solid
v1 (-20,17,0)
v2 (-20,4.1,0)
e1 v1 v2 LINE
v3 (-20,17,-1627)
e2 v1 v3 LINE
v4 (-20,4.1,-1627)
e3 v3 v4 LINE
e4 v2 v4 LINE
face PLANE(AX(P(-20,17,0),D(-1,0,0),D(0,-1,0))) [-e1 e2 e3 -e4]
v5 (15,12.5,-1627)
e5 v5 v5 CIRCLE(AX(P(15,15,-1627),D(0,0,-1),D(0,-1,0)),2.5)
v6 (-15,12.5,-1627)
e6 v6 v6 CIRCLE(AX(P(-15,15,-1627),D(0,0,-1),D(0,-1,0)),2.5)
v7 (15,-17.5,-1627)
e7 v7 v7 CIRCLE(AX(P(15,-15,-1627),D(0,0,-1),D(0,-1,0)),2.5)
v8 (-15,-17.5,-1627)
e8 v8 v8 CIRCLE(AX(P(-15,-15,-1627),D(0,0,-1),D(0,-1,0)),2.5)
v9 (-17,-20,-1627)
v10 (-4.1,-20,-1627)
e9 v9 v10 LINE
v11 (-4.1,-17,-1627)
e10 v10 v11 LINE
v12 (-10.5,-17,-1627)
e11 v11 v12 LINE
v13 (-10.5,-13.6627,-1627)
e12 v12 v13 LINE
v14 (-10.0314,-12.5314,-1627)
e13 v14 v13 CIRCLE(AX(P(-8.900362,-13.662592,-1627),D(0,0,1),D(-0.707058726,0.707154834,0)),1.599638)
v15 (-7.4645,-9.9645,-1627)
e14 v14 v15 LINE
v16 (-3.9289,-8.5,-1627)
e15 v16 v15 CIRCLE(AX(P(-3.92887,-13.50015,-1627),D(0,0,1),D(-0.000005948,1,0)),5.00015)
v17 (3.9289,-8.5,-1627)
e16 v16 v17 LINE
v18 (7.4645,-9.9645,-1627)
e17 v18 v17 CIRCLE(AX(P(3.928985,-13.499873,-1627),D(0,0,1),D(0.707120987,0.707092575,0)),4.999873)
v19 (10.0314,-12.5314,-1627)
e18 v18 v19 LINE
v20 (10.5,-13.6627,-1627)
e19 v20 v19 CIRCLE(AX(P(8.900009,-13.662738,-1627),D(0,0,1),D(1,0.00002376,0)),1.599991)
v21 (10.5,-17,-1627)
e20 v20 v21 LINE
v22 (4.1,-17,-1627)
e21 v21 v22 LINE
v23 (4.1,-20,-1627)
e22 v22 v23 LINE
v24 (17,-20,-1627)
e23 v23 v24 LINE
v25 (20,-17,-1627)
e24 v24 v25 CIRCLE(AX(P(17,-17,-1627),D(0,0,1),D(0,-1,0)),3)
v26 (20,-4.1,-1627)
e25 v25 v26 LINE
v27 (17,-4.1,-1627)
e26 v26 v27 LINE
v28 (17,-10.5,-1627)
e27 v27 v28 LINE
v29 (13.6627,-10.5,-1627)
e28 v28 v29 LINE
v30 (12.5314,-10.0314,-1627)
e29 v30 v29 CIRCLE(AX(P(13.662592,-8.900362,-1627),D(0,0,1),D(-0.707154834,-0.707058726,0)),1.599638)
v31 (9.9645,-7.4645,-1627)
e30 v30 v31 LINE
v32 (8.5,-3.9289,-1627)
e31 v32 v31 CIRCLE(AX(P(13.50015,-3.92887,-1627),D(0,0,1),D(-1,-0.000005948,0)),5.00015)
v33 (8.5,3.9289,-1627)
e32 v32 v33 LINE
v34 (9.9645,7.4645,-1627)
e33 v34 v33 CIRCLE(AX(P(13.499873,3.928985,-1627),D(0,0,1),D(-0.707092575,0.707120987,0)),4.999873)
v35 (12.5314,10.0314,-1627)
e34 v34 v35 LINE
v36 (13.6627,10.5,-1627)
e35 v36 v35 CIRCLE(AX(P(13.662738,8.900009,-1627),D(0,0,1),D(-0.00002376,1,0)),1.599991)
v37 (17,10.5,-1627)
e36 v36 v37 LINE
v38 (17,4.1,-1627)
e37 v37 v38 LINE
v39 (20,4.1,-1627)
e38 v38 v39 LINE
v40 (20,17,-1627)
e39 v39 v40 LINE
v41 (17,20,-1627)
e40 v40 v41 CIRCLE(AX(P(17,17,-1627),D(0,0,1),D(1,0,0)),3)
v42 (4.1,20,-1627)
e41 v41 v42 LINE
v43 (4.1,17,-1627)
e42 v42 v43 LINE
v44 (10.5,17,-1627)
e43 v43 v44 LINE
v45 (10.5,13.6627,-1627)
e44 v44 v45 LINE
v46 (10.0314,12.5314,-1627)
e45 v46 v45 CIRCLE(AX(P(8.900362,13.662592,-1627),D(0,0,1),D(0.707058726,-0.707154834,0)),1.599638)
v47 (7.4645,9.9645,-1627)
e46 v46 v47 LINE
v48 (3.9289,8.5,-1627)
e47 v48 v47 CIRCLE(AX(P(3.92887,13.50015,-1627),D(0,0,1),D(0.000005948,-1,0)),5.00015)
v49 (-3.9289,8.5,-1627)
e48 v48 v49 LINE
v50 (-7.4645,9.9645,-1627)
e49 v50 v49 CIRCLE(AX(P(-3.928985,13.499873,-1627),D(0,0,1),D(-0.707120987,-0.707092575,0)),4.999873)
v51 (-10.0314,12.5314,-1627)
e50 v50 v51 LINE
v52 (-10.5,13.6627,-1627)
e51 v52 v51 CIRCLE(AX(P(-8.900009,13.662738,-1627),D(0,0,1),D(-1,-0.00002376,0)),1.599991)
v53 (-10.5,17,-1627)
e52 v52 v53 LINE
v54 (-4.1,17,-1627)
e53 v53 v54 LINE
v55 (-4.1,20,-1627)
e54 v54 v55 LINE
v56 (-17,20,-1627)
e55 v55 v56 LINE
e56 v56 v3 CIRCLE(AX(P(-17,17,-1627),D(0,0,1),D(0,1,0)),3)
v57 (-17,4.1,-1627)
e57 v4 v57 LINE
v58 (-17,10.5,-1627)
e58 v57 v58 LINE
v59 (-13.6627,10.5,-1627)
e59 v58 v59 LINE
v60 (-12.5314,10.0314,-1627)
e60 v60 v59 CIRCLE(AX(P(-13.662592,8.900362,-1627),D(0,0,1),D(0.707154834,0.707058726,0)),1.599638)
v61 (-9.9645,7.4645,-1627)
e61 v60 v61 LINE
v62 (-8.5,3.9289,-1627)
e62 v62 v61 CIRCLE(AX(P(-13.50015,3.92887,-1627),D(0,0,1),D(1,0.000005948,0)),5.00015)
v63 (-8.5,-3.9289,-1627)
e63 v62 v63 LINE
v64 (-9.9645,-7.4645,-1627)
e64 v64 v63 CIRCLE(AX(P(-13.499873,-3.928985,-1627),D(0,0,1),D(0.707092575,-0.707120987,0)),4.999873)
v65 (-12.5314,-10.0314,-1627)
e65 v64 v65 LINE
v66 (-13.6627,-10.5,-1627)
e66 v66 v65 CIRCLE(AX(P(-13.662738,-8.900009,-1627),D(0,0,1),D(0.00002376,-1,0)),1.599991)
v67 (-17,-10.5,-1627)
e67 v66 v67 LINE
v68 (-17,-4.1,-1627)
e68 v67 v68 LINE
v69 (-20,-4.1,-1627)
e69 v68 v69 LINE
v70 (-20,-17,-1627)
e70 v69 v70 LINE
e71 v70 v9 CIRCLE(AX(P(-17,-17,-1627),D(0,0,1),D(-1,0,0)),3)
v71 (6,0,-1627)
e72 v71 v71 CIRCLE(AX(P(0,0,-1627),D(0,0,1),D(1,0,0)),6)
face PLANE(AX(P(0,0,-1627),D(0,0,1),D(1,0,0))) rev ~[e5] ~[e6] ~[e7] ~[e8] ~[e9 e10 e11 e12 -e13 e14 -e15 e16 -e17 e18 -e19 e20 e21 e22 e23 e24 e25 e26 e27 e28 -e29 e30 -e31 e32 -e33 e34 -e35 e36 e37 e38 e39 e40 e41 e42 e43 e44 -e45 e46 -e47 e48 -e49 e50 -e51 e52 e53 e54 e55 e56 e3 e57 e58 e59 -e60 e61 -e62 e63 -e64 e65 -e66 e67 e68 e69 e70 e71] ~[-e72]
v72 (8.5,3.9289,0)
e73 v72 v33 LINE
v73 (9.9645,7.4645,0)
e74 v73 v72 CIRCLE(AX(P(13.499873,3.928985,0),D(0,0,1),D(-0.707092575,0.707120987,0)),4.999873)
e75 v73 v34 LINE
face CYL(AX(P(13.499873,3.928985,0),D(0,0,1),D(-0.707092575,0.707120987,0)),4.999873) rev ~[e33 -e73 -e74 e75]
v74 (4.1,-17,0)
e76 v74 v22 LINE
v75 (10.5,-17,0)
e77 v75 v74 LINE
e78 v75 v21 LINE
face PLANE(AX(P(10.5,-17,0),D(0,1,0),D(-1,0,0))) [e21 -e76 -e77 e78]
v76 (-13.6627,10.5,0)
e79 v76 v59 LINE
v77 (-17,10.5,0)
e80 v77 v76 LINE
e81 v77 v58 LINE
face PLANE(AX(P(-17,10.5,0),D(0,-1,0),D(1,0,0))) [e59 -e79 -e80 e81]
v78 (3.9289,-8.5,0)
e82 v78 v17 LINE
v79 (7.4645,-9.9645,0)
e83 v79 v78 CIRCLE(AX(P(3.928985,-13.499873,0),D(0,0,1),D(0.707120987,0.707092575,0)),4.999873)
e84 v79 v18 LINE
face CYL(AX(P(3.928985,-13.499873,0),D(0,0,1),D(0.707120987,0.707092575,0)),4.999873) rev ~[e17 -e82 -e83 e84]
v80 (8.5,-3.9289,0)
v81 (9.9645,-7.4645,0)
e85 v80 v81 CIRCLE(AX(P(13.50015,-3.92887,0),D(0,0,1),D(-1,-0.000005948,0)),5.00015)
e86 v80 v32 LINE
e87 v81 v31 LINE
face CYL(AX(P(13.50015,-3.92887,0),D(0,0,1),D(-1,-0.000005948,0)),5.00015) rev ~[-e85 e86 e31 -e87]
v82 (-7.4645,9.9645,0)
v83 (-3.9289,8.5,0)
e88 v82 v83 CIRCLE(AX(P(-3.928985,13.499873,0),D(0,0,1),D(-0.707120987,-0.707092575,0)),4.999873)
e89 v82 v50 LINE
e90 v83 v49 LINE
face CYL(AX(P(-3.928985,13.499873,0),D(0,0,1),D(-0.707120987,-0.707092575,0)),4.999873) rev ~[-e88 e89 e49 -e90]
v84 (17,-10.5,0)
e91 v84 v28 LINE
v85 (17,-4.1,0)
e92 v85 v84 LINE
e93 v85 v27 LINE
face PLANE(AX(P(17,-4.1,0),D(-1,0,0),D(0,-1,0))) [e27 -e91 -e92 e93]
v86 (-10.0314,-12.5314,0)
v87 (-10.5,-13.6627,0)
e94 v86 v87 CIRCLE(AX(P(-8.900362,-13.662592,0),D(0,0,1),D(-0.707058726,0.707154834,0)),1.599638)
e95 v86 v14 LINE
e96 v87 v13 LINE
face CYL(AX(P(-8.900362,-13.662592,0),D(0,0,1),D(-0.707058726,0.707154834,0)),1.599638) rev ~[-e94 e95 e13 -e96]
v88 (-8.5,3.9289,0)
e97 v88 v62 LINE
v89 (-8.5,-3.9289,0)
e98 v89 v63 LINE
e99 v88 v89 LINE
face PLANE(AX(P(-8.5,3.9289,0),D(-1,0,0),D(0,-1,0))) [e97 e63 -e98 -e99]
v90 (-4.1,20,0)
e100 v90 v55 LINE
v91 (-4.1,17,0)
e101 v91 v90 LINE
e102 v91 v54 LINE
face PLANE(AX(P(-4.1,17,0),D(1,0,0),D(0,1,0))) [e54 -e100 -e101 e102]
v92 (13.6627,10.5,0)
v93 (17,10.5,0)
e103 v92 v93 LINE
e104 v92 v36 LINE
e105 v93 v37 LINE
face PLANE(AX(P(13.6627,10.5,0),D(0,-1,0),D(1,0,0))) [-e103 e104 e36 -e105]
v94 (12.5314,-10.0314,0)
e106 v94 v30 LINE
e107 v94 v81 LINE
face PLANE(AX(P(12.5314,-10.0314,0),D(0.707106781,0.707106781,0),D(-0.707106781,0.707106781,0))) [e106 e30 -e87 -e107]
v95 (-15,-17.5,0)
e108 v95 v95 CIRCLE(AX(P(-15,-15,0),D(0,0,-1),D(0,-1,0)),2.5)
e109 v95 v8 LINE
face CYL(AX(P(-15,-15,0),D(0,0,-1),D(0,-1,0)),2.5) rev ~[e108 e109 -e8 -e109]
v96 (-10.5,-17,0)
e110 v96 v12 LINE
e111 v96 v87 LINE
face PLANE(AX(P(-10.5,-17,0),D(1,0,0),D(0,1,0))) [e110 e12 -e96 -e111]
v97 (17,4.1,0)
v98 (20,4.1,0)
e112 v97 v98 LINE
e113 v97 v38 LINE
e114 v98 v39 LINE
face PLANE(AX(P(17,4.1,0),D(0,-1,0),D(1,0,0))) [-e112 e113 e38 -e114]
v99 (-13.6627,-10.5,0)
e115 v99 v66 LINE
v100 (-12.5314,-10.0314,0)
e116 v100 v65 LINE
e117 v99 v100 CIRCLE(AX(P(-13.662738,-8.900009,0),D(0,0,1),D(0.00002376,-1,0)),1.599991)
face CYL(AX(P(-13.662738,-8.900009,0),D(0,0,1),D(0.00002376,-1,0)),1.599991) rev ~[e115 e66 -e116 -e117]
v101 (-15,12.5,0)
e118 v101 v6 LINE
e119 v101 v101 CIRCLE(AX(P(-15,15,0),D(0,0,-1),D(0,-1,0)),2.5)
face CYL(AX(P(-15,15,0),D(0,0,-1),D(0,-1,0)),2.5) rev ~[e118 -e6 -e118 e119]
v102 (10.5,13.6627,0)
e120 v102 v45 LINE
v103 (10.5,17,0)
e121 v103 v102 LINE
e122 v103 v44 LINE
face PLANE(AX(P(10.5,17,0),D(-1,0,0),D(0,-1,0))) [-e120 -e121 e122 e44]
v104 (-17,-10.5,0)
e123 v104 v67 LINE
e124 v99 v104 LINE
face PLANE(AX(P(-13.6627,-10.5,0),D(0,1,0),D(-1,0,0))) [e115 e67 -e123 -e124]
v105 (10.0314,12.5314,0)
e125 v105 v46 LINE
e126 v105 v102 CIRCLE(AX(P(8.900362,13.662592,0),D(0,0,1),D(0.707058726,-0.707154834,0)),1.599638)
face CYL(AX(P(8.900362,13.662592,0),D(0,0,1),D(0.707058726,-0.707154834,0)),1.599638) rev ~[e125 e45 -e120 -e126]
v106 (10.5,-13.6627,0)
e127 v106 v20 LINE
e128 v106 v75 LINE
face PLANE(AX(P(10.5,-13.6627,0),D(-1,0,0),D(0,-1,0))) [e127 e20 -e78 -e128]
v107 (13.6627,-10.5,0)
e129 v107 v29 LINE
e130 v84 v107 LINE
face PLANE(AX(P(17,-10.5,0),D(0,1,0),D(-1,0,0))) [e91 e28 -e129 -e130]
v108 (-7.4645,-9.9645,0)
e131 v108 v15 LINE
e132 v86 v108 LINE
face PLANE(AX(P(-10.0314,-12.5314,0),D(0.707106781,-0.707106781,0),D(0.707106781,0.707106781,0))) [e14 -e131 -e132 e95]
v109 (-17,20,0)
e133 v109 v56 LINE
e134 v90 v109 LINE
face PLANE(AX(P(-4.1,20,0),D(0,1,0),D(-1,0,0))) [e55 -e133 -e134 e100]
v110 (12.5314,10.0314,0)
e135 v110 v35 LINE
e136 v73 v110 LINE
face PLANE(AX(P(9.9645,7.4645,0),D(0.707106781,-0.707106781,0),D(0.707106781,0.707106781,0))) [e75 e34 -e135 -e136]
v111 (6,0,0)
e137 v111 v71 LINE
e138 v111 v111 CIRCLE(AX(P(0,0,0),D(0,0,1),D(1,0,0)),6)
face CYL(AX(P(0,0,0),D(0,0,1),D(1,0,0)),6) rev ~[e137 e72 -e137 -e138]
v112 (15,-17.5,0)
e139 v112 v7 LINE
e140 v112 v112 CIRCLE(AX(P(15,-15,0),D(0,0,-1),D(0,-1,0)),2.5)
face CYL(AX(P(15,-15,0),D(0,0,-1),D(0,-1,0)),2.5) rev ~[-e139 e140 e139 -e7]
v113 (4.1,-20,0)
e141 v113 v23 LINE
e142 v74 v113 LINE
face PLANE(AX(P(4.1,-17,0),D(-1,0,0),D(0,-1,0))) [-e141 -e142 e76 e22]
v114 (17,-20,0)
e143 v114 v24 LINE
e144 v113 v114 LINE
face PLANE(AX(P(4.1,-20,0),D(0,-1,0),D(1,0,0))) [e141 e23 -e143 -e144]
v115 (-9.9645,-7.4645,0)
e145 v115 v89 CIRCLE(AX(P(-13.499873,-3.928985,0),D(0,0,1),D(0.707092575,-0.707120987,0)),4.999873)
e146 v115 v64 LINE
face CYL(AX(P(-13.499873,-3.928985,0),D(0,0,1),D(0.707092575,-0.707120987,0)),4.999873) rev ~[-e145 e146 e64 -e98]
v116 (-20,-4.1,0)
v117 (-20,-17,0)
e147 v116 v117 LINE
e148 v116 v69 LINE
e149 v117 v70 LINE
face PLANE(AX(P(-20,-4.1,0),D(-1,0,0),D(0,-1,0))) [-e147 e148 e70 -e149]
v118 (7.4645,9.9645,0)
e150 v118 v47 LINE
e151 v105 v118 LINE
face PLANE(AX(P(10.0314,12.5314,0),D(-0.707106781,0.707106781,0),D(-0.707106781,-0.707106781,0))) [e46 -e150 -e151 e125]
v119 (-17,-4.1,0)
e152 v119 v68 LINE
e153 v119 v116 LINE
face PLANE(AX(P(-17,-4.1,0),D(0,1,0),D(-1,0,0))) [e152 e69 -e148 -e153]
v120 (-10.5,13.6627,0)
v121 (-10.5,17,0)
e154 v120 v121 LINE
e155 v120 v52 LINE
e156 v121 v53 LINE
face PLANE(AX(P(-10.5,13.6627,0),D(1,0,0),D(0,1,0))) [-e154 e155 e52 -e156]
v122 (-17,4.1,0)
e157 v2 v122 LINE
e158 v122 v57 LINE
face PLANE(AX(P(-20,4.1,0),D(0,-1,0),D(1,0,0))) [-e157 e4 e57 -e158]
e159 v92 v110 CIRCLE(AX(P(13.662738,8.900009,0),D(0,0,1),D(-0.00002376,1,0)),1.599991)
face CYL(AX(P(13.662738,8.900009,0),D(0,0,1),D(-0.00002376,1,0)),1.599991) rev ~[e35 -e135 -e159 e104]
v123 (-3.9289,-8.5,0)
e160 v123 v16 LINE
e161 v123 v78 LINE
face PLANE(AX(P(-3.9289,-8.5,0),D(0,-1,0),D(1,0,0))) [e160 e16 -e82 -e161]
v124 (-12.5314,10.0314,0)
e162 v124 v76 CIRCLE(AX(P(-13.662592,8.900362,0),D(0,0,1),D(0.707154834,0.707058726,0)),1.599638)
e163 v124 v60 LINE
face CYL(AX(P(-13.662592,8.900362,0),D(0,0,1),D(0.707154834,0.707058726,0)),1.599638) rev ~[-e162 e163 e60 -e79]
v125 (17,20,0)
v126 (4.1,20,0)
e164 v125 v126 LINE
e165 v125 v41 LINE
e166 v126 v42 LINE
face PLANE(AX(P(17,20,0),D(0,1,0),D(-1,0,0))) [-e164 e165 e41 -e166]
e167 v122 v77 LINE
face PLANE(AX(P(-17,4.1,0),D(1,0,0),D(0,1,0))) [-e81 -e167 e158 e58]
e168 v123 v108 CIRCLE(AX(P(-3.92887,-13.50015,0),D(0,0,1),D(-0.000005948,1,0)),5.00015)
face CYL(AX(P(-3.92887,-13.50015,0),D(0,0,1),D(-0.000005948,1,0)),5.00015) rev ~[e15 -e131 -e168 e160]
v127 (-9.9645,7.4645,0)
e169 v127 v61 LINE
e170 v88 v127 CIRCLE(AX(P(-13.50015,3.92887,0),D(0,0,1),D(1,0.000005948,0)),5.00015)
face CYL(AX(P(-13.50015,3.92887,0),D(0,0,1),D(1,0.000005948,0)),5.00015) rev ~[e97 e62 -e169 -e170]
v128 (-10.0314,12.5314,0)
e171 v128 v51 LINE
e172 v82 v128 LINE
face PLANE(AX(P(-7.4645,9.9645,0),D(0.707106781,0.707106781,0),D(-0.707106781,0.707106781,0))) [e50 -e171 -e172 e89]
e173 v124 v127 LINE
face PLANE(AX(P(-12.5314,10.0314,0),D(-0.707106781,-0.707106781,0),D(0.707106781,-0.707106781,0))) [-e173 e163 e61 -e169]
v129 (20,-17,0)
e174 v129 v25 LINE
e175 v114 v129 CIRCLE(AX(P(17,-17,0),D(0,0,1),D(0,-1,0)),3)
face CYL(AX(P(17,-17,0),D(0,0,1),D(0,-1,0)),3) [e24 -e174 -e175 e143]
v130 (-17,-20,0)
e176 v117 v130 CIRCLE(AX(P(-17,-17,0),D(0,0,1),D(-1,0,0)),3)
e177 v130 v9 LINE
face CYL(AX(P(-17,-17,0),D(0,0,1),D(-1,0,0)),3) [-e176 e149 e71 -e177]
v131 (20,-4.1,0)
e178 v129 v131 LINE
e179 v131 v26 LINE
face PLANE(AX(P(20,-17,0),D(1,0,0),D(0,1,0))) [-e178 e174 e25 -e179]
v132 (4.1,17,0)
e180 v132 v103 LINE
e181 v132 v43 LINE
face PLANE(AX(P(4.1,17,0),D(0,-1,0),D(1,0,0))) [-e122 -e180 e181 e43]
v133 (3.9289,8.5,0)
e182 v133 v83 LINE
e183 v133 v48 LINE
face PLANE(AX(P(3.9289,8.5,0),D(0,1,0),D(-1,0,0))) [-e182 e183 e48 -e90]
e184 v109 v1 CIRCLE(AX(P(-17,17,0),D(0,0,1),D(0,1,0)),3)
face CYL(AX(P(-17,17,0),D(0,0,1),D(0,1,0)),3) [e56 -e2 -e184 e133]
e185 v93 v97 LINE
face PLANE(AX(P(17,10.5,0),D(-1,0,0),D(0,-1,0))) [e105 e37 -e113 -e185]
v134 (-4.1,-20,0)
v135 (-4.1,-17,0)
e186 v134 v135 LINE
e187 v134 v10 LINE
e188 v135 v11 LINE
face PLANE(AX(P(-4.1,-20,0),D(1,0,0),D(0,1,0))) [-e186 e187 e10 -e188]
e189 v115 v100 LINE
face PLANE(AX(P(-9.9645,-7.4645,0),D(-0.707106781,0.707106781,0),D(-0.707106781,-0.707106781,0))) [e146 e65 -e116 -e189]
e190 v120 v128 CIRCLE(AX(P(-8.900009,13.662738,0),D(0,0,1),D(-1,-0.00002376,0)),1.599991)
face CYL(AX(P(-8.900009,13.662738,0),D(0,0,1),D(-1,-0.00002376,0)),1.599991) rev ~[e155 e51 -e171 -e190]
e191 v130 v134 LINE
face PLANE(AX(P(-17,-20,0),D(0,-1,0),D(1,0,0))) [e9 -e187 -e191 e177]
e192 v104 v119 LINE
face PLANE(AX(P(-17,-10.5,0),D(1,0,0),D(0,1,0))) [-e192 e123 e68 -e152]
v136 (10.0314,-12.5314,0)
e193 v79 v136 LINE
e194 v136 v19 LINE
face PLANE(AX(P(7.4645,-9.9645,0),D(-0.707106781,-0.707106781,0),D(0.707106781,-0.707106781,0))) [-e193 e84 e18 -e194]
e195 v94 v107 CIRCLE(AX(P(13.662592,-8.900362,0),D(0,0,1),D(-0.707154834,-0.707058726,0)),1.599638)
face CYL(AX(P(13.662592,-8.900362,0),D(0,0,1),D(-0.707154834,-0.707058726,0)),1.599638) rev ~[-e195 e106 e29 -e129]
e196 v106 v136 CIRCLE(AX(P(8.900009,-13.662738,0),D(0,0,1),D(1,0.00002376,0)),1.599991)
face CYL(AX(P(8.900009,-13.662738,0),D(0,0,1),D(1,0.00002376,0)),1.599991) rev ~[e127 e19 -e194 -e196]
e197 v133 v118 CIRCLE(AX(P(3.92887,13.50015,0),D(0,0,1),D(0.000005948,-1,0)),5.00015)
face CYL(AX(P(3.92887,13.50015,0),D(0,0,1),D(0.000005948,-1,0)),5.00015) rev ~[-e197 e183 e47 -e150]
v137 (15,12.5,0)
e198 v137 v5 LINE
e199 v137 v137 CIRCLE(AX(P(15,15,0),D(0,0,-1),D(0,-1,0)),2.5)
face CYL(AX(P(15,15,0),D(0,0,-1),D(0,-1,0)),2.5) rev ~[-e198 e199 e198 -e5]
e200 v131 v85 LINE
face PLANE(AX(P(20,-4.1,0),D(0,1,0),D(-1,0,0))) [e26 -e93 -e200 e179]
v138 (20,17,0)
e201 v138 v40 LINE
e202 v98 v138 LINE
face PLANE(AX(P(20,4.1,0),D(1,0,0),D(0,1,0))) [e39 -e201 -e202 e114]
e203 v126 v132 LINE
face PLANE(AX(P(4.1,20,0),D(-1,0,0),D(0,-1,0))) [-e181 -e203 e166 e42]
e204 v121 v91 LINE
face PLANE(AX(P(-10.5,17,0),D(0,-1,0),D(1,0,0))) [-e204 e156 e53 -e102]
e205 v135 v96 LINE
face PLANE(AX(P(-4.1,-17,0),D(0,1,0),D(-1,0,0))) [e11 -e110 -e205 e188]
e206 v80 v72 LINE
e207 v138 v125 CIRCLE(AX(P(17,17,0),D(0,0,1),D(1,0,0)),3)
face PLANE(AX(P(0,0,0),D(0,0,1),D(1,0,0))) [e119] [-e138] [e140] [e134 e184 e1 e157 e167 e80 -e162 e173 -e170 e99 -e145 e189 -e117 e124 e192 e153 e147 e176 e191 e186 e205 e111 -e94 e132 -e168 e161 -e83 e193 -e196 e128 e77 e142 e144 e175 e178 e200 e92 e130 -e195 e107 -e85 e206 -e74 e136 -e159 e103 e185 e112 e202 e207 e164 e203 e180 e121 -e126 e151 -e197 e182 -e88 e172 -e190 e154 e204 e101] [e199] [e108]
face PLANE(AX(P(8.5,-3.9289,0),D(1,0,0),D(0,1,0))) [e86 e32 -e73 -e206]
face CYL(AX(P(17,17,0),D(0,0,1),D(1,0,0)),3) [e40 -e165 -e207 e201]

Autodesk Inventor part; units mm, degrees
sketch "Skizze_1" plane through (0, 0, 0) normal (0, 0, 1) x (1, 0, 0)
  arc A0 (-20, -17) -> (-17, -20) centre (-17, -17) ccw
  line L0 (-17, -20) -> (-4.1, -20)
  line L1 (-4.1, -20) -> (-4.1, -17)
  line L2 (-4.1, -17) -> (-10.5, -17)
  line L3 (-10.5, -17) -> (-10.5, -13.6627)
  arc A1 (-10.0314, -12.5314) -> (-10.5, -13.6627) centre (-8.9002, -13.6627) ccw
  line L4 (-10.0314, -12.5314) -> (-7.4645, -9.9645)
  arc A2 (-3.9289, -8.5) -> (-7.4645, -9.9645) centre (-3.9289, -13.5) ccw
  line L5 (-3.9289, -8.5) -> (3.9289, -8.5)
  arc A3 (7.4645, -9.9645) -> (3.9289, -8.5) centre (3.9289, -13.5) ccw
  line L6 (7.4645, -9.9645) -> (10.0314, -12.5314)
  arc A4 (10.5, -13.6627) -> (10.0314, -12.5314) centre (8.9002, -13.6627) ccw
  line L7 (10.5, -13.6627) -> (10.5, -17)
  line L8 (10.5, -17) -> (4.1, -17)
  line L9 (4.1, -17) -> (4.1, -20)
  line L10 (4.1, -20) -> (17, -20)
  arc A5 (17, -20) -> (20, -17) centre (17, -17) ccw
  line L11 (20, -17) -> (20, -4.1)
  line L12 (20, -4.1) -> (17, -4.1)
  line L13 (17, -4.1) -> (17, -10.5)
  line L14 (17, -10.5) -> (13.6627, -10.5)
  arc A6 (12.5314, -10.0314) -> (13.6627, -10.5) centre (13.6627, -8.9002) ccw
  line L15 (12.5314, -10.0314) -> (9.9645, -7.4645)
  arc A7 (8.5, -3.9289) -> (9.9645, -7.4645) centre (13.5, -3.9289) ccw
  line L16 (8.5, -3.9289) -> (8.5, 3.9289)
  arc A8 (9.9645, 7.4645) -> (8.5, 3.9289) centre (13.5, 3.9289) ccw
  line L17 (9.9645, 7.4645) -> (12.5314, 10.0314)
  arc A9 (13.6627, 10.5) -> (12.5314, 10.0314) centre (13.6627, 8.9002) ccw
  line L18 (13.6627, 10.5) -> (17, 10.5)
  line L19 (17, 10.5) -> (17, 4.1)
  line L20 (17, 4.1) -> (20, 4.1)
  line L21 (20, 4.1) -> (20, 17)
  arc A10 (20, 17) -> (17, 20) centre (17, 17) ccw
  line L22 (17, 20) -> (4.1, 20)
  line L23 (4.1, 20) -> (4.1, 17)
  line L24 (4.1, 17) -> (10.5, 17)
  line L25 (10.5, 17) -> (10.5, 13.6627)
  arc A11 (10.0314, 12.5314) -> (10.5, 13.6627) centre (8.9002, 13.6627) ccw
  line L26 (10.0314, 12.5314) -> (7.4645, 9.9645)
  arc A12 (3.9289, 8.5) -> (7.4645, 9.9645) centre (3.9289, 13.5) ccw
  line L27 (3.9289, 8.5) -> (-3.9289, 8.5)
  arc A13 (-7.4645, 9.9645) -> (-3.9289, 8.5) centre (-3.9289, 13.5) ccw
  line L28 (-7.4645, 9.9645) -> (-10.0314, 12.5314)
  arc A14 (-10.5, 13.6627) -> (-10.0314, 12.5314) centre (-8.9002, 13.6627) ccw
  line L29 (-10.5, 13.6627) -> (-10.5, 17)
  line L30 (-10.5, 17) -> (-4.1, 17)
  line L31 (-4.1, 17) -> (-4.1, 20)
  line L32 (-4.1, 20) -> (-17, 20)
  arc A15 (-17, 20) -> (-20, 17) centre (-17, 17) ccw
  line L33 (-20, 17) -> (-20, 4.1)
  line L34 (-20, 4.1) -> (-17, 4.1)
  line L35 (-17, 4.1) -> (-17, 10.5)
  line L36 (-17, 10.5) -> (-13.6627, 10.5)
  arc A16 (-12.5314, 10.0314) -> (-13.6627, 10.5) centre (-13.6627, 8.9002) ccw
  line L37 (-12.5314, 10.0314) -> (-9.9645, 7.4645)
  arc A17 (-8.5, 3.9289) -> (-9.9645, 7.4645) centre (-13.5, 3.9289) ccw
  line L38 (-8.5, 3.9289) -> (-8.5, -3.9289)
  arc A18 (-9.9645, -7.4645) -> (-8.5, -3.9289) centre (-13.5, -3.9289) ccw
  line L39 (-9.9645, -7.4645) -> (-12.5314, -10.0314)
  arc A19 (-13.6627, -10.5) -> (-12.5314, -10.0314) centre (-13.6627, -8.9002) ccw
  line L40 (-13.6627, -10.5) -> (-17, -10.5)
  line L41 (-17, -10.5) -> (-17, -4.1)
  line L42 (-17, -4.1) -> (-20, -4.1)
  line L43 (-20, -4.1) -> (-20, -17)
  circle A20 centre (0, 0) radius 6
extrude "Extrusion1" add sketch "Skizze_1" against normal blind 1627
sketch "Sketch2" plane through (0, 0, 0) normal (0, 0, 1) x (1, 0, 0)
  point P0 (-15, -15)
hole "Drilling 1" at (-15, -15, 0) direction (0, 0, -1) diameter 5 depth 6000
sketch "Sketch3" plane through (0, 0, 0) normal (0, 0, 1) x (1, 0, 0)
  point P0 (15, -15)
hole "Drilling 2" at (15, -15, 0) direction (0, 0, -1) diameter 5 depth 6000
sketch "Sketch4" plane through (0, 0, 0) normal (0, 0, 1) x (1, 0, 0)
  point P0 (15, 15)
hole "Drilling 3" at (15, 15, 0) direction (0, 0, -1) diameter 5 depth 6000
sketch "Sketch5" plane through (0, 0, 0) normal (0, 0, 1) x (1, 0, 0)
  point P0 (-15, 15)
hole "Drilling 4" at (-15, 15, 0) direction (0, 0, -1) diameter 5 depth 6000
ref_plane "side_4d_XY" through (-20, 0, -813.5) normal (-1, 0, 0) x (0, 1, 0)
ref_plane "side_4d_YZ" through (-20, 0, -813.5) normal (0, 1, 0) x (0, 0, -1)
ref_plane "side_4d_ZX" through (-20, 0, -813.5) normal (0, 0, -1) x (-1, 0, 0)
ref_plane "side_1a_XY" through (0, 20, -813.5) normal (0, 1, 0) x (1, 0, 0)
ref_plane "side_1a_YZ" through (0, 20, -813.5) normal (1, 0, 0) x (0, 0, -1)
ref_plane "side_1a_ZX" through (0, 20, -813.5) normal (0, 0, -1) x (0, 1, 0)
ref_plane "side_2b_XY" through (20, 0, -813.5) normal (1, 0, 0) x (0, -1, 0)
ref_plane "side_2b_YZ" through (20, 0, -813.5) normal (0, -1, 0) x (0, 0, -1)
ref_plane "side_2b_ZX" through (20, 0, -813.5) normal (0, 0, -1) x (1, 0, 0)
ref_plane "side_3c_XY" through (0, -20, -813.5) normal (0, -1, 0) x (-1, 0, 0)
ref_plane "side_3c_YZ" through (0, -20, -813.5) normal (-1, 0, 0) x (0, 0, -1)
ref_plane "side_3c_ZX" through (0, -20, -813.5) normal (0, 0, -1) x (0, -1, 0)
ref_plane "end_XY" through (0, 0, -1627) normal (0, 0, -1) x (1, 0, 0)
ref_plane "end_YZ" through (0, 0, -1627) normal (1, 0, 0) x (0, -1, 0)
ref_plane "end_ZX" through (0, 0, -1627) normal (0, -1, 0) x (0, 0, -1)
ref_plane "start_XY" through (0, 0, 0) normal (0, 0, 1) x (1, 0, 0)
ref_plane "start_YZ" through (0, 0, 0) normal (1, 0, 0) x (0, 1, 0)
ref_plane "start_ZX" through (0, 0, 0) normal (0, 1, 0) x (0, 0, 1)
properties part number "MayTec 1.11.040040.43S_Profile 40x40, 4E, S_1627_Detail_(0;0,0,0)"
